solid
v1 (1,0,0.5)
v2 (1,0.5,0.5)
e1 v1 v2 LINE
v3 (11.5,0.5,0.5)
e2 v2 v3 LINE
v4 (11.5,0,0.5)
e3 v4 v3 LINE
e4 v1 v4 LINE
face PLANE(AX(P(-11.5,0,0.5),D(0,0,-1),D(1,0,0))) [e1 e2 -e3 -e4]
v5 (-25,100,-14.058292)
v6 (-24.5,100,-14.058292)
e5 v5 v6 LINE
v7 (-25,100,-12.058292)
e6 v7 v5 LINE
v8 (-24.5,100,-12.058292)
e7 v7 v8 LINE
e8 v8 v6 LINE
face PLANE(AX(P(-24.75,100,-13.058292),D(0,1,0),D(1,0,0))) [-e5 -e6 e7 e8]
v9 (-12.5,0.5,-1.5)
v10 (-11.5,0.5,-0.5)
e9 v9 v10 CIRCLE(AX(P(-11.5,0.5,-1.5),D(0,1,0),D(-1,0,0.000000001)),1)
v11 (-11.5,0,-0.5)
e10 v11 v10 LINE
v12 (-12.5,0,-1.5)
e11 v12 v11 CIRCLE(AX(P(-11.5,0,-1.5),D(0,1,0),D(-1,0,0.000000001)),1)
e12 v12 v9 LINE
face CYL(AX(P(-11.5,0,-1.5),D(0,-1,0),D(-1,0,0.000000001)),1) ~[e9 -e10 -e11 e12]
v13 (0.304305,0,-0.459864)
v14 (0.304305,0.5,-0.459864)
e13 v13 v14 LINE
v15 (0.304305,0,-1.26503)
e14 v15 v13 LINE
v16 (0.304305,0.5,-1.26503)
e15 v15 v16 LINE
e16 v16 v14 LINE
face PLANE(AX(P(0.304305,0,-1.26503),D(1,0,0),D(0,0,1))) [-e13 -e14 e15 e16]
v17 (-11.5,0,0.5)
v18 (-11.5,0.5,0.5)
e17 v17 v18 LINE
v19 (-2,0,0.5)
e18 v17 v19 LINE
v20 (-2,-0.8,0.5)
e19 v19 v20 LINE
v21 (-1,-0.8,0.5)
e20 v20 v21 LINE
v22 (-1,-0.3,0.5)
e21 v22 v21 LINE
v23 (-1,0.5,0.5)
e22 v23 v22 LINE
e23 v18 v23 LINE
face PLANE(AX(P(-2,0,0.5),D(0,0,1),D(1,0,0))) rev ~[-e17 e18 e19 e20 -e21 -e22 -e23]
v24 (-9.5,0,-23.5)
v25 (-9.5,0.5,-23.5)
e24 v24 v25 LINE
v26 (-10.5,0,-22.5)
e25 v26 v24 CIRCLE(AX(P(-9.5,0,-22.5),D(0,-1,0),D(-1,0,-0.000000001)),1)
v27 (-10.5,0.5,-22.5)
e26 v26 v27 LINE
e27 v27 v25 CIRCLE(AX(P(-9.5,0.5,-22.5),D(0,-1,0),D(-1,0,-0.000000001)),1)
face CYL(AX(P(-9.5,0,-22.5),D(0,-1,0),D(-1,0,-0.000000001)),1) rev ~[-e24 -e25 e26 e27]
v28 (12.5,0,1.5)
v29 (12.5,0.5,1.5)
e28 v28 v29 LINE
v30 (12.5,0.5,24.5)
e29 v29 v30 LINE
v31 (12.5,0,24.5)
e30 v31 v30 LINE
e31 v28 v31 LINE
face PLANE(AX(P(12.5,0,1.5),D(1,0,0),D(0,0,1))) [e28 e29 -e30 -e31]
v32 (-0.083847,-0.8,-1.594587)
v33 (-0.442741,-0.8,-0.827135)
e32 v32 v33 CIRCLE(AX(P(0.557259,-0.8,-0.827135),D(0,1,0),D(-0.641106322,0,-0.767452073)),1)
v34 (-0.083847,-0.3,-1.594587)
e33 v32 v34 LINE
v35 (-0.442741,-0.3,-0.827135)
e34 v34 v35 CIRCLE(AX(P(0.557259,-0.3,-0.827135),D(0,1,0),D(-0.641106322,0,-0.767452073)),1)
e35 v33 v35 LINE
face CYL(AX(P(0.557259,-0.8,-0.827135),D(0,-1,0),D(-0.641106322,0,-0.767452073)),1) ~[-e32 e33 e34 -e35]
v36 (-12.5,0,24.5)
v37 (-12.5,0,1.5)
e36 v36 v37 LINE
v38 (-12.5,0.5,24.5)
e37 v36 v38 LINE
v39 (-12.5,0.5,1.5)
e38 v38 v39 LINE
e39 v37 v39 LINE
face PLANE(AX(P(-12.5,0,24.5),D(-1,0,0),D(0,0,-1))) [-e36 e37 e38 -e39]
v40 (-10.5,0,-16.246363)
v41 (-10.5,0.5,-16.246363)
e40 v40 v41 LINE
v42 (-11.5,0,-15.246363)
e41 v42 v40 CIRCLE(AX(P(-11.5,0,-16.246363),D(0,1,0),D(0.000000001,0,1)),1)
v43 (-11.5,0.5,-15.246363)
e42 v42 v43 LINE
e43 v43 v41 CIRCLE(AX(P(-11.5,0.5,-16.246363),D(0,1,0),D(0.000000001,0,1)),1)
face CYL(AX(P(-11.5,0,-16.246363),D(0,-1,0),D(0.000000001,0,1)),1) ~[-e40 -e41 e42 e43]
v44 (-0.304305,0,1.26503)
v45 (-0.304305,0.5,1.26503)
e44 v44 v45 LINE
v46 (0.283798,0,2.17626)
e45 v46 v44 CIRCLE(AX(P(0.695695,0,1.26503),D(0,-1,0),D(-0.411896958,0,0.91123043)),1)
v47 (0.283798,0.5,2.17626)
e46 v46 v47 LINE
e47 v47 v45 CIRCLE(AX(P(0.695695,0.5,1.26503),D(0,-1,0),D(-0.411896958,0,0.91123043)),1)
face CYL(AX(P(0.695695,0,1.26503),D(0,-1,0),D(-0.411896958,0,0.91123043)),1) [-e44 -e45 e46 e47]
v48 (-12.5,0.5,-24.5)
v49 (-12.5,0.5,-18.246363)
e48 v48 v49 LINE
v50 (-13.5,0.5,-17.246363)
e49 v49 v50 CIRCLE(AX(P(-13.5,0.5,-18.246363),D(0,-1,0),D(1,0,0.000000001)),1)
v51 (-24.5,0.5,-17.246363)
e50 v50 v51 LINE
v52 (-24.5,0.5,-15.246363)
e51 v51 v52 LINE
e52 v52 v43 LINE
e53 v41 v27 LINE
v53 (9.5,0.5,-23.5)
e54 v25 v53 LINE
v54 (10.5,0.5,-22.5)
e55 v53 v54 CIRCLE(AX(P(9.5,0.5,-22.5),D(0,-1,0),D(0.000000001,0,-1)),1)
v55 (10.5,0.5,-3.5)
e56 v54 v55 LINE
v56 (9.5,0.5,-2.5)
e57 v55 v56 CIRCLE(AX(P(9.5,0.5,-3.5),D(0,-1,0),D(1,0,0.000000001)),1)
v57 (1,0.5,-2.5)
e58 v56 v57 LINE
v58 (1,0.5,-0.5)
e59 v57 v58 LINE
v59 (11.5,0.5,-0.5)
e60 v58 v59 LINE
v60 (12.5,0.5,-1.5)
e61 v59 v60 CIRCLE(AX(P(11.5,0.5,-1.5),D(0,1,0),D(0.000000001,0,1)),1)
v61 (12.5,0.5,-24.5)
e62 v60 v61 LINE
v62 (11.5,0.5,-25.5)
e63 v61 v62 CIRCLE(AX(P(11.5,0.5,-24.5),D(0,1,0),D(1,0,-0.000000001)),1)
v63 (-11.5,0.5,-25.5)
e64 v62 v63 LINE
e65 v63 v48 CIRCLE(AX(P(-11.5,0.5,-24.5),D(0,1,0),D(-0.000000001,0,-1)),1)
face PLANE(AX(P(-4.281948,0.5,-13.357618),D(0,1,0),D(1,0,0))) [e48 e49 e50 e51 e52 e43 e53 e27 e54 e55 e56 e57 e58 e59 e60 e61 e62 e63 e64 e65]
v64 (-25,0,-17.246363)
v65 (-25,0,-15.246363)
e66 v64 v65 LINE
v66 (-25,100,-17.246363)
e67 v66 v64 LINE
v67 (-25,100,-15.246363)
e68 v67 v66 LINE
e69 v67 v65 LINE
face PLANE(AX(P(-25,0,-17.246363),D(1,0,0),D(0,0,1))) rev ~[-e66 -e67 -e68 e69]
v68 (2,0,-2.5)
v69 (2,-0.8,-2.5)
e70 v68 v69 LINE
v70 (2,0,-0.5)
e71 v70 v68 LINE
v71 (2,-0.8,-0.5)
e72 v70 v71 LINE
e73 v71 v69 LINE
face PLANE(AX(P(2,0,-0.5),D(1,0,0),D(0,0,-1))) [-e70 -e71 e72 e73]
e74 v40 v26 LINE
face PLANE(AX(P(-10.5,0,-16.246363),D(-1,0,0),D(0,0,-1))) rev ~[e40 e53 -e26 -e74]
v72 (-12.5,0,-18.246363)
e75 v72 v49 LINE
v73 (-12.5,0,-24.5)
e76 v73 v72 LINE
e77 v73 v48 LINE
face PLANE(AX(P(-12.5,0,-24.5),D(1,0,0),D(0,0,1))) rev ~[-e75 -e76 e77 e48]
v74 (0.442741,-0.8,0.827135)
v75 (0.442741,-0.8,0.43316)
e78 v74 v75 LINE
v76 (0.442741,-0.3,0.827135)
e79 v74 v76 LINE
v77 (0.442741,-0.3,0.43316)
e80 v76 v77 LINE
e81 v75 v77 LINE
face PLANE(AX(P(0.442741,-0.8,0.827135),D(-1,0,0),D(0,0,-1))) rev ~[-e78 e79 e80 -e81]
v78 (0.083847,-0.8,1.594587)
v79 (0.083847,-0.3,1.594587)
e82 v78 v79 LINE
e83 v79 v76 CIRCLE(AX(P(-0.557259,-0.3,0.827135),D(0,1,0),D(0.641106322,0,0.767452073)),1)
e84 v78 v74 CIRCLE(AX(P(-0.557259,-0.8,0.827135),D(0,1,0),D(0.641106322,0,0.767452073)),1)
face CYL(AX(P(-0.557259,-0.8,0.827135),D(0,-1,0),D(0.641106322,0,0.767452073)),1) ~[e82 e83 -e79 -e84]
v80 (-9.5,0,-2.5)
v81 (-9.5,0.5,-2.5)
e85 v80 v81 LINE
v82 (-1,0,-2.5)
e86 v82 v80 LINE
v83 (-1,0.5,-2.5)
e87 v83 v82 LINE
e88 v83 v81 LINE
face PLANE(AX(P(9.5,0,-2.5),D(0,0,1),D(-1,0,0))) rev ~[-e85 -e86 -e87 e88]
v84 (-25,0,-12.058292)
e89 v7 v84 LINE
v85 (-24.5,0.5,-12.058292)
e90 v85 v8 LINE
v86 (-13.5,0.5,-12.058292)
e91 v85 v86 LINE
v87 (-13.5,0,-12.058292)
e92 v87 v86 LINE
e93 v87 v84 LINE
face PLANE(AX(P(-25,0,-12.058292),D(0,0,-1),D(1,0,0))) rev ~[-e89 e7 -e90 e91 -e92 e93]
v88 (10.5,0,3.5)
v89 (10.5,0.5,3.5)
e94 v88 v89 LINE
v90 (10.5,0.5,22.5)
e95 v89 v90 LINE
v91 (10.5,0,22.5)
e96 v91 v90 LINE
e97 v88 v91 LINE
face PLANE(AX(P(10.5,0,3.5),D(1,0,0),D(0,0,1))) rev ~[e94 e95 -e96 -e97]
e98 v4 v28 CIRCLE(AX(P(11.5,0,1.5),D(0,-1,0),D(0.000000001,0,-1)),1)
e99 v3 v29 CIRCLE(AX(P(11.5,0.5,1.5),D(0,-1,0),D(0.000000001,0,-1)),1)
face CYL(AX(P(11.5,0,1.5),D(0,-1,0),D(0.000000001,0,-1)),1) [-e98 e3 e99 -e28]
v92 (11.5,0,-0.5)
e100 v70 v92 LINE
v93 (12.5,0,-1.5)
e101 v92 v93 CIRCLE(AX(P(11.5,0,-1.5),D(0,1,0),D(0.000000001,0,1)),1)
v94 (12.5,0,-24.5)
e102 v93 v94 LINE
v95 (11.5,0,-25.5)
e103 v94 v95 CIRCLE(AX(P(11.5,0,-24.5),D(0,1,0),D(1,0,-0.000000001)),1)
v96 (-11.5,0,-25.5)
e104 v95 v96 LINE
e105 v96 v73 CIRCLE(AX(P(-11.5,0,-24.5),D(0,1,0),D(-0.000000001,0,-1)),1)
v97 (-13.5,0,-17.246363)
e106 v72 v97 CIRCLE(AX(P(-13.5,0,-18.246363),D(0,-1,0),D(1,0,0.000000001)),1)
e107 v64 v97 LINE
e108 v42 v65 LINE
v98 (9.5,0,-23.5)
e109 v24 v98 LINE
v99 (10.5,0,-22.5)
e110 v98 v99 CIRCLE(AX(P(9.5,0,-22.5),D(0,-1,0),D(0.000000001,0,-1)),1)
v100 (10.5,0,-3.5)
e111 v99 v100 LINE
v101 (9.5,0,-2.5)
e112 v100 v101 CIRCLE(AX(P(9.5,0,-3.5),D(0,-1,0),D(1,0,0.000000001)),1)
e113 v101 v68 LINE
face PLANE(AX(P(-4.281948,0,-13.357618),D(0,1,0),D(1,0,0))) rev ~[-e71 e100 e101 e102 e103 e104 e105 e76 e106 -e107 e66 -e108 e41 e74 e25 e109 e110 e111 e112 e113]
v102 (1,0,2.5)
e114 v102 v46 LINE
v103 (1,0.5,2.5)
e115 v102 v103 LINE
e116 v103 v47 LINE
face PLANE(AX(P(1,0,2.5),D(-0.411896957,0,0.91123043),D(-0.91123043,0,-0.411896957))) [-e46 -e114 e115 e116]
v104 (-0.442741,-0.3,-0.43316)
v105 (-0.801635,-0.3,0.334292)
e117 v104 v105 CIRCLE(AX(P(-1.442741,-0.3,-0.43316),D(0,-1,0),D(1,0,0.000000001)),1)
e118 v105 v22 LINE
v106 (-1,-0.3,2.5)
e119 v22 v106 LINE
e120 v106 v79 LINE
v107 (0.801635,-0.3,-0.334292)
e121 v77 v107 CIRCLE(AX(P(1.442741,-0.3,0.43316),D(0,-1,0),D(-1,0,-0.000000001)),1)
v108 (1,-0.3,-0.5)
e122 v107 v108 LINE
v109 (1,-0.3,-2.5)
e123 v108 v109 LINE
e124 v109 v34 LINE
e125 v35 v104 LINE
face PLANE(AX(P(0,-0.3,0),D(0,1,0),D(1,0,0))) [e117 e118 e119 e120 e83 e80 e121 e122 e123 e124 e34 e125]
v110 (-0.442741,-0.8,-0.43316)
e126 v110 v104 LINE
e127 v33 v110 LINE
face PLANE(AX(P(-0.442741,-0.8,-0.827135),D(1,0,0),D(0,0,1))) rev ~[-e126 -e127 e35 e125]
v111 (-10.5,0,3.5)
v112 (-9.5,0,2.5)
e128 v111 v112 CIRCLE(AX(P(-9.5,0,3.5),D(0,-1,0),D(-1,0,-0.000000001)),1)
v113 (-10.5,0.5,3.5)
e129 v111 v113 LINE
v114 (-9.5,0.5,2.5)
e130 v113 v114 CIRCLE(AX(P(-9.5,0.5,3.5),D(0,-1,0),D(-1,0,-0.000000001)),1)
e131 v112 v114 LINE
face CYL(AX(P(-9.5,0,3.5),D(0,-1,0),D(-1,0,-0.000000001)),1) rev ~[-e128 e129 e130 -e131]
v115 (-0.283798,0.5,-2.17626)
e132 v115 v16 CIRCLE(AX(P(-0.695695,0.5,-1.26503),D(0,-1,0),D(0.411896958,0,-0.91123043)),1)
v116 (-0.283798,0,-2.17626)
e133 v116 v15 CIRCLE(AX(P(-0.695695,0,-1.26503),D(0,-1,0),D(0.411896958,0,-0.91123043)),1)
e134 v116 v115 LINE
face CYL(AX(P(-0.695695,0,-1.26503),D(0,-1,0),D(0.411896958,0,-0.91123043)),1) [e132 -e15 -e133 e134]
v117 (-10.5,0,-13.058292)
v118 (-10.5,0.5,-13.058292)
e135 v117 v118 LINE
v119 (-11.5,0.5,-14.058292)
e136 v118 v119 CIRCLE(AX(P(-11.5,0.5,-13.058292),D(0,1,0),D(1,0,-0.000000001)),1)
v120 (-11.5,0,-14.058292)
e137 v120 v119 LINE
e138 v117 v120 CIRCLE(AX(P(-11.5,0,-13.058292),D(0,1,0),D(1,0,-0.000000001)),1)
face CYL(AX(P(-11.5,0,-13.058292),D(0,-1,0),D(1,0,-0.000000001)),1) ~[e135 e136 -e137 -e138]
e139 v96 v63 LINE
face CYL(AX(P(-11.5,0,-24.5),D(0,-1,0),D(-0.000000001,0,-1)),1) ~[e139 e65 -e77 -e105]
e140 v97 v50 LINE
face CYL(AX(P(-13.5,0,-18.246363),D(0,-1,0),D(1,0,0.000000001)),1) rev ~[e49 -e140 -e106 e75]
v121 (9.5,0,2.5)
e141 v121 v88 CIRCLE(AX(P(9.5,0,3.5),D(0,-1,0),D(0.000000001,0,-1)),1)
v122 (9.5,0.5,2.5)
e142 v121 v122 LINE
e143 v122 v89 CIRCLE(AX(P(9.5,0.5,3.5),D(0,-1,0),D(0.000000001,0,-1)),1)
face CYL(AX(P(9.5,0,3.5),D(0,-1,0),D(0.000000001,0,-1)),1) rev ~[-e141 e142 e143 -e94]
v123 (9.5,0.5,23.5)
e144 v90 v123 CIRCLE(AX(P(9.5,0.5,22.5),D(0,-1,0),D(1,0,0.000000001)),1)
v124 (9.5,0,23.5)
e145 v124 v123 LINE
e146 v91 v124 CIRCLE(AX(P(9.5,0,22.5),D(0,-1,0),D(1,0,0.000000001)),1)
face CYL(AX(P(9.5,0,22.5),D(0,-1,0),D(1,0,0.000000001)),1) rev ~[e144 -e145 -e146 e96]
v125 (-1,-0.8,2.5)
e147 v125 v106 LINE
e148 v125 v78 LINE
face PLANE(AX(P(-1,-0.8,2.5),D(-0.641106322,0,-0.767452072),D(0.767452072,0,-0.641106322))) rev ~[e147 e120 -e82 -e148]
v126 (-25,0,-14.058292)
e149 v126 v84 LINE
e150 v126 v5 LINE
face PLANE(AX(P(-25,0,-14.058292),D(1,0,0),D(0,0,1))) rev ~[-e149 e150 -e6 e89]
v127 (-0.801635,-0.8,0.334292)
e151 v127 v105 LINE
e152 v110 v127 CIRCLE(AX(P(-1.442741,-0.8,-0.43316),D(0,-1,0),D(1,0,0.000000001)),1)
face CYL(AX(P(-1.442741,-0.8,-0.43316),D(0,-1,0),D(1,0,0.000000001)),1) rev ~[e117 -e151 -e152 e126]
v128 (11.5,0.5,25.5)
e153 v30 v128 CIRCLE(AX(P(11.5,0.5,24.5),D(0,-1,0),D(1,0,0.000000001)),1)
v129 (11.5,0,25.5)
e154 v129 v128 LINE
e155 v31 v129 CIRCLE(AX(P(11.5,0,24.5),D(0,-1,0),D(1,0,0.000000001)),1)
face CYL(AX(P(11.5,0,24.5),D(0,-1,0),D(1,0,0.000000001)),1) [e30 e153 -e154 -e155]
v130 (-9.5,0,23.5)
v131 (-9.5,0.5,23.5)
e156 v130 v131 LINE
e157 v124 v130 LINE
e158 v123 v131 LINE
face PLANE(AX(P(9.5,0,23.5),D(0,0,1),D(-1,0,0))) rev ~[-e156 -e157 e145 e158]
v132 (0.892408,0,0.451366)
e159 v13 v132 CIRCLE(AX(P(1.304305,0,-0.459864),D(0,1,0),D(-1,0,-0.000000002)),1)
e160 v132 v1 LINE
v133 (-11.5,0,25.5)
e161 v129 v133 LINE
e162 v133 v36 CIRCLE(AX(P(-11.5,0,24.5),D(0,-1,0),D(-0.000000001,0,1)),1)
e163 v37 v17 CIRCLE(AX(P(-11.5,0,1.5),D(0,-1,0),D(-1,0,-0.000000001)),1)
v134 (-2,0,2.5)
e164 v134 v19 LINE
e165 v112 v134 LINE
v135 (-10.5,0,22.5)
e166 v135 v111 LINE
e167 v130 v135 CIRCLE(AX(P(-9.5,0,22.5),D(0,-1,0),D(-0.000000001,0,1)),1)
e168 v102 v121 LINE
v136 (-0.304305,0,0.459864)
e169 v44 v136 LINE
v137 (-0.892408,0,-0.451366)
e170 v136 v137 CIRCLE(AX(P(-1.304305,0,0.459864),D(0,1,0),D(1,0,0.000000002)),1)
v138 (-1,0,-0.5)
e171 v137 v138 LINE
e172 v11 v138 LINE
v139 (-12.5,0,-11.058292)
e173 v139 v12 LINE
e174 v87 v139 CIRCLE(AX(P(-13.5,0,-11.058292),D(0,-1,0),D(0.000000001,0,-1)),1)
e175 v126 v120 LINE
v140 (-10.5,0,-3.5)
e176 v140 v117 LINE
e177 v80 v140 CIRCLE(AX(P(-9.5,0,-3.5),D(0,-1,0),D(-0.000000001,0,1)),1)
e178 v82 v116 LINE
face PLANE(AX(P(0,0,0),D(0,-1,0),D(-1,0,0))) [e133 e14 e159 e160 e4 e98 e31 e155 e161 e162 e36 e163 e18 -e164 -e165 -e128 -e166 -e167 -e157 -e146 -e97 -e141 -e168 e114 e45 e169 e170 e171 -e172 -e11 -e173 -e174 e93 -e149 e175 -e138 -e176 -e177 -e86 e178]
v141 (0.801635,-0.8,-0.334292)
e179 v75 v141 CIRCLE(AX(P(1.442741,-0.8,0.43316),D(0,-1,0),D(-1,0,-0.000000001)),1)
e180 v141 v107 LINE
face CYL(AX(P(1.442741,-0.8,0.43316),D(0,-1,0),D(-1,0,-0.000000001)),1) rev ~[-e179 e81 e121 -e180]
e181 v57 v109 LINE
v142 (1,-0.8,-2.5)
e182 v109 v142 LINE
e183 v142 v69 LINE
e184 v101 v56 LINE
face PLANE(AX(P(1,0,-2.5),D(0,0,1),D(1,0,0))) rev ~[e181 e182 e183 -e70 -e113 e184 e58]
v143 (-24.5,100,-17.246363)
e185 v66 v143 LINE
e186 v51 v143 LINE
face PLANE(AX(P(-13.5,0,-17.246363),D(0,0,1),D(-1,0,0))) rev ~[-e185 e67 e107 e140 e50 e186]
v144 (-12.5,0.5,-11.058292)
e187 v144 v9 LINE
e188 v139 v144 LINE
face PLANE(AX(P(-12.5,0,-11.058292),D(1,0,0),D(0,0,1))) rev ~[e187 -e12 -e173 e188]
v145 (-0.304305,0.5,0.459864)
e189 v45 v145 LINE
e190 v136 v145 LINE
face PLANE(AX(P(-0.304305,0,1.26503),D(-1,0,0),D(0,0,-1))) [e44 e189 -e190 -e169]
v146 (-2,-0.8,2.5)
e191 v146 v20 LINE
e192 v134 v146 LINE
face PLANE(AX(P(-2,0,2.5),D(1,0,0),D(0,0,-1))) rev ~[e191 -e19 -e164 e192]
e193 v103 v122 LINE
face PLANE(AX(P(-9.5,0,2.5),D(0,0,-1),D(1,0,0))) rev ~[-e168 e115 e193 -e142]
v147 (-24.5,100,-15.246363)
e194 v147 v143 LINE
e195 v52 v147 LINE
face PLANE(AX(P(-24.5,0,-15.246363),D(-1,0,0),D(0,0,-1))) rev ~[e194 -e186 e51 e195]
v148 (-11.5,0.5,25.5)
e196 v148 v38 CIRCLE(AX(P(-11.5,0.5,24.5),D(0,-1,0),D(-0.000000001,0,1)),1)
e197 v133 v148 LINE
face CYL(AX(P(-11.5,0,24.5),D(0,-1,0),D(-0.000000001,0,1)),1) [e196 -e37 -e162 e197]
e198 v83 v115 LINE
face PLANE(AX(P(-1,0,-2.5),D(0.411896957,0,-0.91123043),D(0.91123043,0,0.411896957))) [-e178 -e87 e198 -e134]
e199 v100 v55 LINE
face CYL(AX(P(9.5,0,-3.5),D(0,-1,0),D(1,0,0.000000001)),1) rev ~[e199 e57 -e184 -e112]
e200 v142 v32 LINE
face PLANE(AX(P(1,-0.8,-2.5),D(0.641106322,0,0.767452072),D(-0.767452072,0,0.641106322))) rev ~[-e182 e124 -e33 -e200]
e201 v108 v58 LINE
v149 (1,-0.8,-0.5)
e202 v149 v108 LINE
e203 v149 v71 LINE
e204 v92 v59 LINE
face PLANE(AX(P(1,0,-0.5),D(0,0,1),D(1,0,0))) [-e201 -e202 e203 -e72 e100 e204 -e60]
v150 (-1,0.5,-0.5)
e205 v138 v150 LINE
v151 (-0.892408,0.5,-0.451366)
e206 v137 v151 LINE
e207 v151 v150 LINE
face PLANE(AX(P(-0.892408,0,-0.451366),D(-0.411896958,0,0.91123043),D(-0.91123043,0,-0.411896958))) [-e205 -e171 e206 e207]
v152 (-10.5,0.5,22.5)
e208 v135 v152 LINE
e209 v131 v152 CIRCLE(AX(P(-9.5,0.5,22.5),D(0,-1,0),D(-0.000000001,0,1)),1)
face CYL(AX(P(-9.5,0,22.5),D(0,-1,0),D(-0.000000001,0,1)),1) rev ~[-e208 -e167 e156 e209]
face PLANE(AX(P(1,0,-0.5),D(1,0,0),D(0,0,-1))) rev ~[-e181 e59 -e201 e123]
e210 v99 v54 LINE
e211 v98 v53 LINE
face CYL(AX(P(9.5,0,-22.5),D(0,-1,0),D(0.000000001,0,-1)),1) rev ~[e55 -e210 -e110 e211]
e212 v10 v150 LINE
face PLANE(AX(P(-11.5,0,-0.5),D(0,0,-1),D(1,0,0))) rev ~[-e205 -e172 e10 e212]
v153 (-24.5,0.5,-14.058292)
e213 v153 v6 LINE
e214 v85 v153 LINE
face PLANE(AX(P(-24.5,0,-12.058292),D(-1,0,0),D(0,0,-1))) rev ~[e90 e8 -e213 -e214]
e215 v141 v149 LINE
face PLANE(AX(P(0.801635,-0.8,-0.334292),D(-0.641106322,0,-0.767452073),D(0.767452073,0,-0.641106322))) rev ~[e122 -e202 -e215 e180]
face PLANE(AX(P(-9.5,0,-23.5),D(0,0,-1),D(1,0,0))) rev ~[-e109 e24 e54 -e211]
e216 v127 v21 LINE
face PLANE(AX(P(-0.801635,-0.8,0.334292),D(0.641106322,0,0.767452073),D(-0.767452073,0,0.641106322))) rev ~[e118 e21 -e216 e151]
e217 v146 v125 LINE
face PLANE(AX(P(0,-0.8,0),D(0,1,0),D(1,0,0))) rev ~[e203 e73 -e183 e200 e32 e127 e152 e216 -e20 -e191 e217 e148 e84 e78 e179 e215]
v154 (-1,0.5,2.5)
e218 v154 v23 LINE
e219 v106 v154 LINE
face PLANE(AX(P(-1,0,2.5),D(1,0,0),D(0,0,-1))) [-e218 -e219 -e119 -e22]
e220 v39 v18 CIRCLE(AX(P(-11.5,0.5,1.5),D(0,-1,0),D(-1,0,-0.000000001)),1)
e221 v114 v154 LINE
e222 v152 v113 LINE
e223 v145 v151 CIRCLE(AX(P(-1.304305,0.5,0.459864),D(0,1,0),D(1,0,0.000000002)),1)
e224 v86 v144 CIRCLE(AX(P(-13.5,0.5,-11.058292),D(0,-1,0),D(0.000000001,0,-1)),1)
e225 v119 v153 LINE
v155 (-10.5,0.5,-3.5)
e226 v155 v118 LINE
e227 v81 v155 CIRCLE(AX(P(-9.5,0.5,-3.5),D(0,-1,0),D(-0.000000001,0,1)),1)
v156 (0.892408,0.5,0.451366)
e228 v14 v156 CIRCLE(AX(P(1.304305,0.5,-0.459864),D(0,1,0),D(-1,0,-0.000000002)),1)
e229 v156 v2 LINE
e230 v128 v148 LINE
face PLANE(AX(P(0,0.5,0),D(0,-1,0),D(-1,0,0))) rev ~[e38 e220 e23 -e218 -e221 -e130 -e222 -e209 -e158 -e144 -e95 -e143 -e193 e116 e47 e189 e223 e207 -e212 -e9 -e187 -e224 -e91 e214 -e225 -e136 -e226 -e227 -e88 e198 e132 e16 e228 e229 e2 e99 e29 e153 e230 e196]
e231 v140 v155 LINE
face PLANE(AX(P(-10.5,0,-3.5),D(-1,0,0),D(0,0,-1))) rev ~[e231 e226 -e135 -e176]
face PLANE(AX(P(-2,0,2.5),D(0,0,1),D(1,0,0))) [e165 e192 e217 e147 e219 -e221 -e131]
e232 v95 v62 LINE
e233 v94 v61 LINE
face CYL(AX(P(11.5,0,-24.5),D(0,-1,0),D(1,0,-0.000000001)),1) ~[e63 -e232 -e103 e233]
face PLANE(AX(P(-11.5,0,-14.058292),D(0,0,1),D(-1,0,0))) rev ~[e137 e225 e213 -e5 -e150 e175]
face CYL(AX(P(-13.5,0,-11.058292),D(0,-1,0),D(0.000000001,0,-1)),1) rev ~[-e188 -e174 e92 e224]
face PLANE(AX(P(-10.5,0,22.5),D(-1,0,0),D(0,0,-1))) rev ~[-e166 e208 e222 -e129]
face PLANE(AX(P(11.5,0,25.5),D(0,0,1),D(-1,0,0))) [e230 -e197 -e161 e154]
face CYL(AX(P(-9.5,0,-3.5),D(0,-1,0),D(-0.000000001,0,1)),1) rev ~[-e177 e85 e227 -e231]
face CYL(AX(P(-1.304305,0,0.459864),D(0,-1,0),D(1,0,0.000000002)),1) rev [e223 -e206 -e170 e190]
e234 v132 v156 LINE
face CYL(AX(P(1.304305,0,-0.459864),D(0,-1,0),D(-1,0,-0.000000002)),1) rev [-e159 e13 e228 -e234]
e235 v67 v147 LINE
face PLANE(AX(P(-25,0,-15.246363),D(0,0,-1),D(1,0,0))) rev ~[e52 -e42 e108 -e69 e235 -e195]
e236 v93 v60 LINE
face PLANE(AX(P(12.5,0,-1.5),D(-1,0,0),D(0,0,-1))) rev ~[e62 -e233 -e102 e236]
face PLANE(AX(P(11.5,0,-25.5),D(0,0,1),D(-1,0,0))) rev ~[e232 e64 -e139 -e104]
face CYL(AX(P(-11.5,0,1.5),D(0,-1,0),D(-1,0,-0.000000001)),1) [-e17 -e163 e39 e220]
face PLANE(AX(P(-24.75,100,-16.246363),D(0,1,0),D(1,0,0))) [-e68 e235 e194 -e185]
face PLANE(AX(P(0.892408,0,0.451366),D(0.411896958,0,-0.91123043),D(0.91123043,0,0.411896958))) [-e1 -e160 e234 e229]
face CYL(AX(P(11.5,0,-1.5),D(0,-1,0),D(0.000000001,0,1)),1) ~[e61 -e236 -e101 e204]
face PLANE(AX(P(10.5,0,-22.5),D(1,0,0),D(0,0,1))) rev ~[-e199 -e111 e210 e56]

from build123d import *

# Parameters (mm, degrees)
EXTRUDE_1_DEPTH          = 0.5
EXTRUDE_1_2_DEPTH        = 0.5
CUT_EXTRUDE_1_DEPTH      = 10
CUT_EXTRUDE_1_DEPTH_BACK = 10
SKETCH_2_W               = 2
SKETCH_2_H               = 9.01144146
EXTRUDE_2_DEPTH          = 0.5
SKETCH_4_W               = 1
SKETCH_4_H               = 2
EXTRUDE_3_DEPTH          = 0.8
EXTRUDE_4_DEPTH          = 0.5
SKETCH_6_W               = 0.5
SKETCH_6_H               = 2
EXTRUDE_5_DEPTH          = 100


with BuildPart() as part:
    # 草图1 → 凸台-拉伸1 (new body)
    with BuildSketch(Plane(origin=(0, 0, 0), x_dir=(1, 0, 0), z_dir=(0, 1, 0))):
        with BuildLine():
            Line((-9.5, 23.5), (9.5, 23.5))
            ThreePointArc((9.5, 23.5), (10.207106781, 23.207106781), (10.5, 22.5))
            Line((10.5, 22.5), (10.5, 3.5))
            ThreePointArc((10.5, 3.5), (10.207106781, 2.792893219), (9.5, 2.5))
            Line((9.5, 2.5), (-9.5, 2.5))
            ThreePointArc((-9.5, 2.5), (-10.207106781, 2.792893219), (-10.5, 3.5))
            Line((-10.5, 3.5), (-10.5, 13.058292323))
            ThreePointArc((-10.5, 13.058292323), (-10.792893219, 13.765399104), (-11.5, 14.058292323))
            Line((-11.5, 14.058292323), (-25, 14.058292323))
            Line((-25, 14.058292323), (-25, 12.058292323))
            Line((-25, 12.058292323), (-13.5, 12.058292323))
            ThreePointArc((-13.5, 12.058292323), (-12.792893219, 11.765399104), (-12.5, 11.058292323))
            Line((-12.5, 11.058292323), (-12.5, 1.5))
            ThreePointArc((-12.5, 1.5), (-12.207106781, 0.792893219), (-11.5, 0.5))
            Line((-11.5, 0.5), (11.5, 0.5))
            ThreePointArc((11.5, 0.5), (12.207106781, 0.792893219), (12.5, 1.5))
            Line((12.5, 1.5), (12.5, 24.5))
            ThreePointArc((12.5, 24.5), (12.207106781, 25.207106781), (11.5, 25.5))
            Line((11.5, 25.5), (-11.5, 25.5))
            ThreePointArc((-11.5, 25.5), (-12.207106781, 25.207106781), (-12.5, 24.5))
            Line((-12.5, 24.5), (-12.5, 18.246362536))
            ThreePointArc((-12.5, 18.246362536), (-12.792893219, 17.539255755), (-13.5, 17.246362536))
            Line((-13.5, 17.246362536), (-25, 17.246362536))
            Line((-25, 17.246362536), (-25, 15.246362536))
            Line((-25, 15.246362536), (-11.5, 15.246362536))
            ThreePointArc((-11.5, 15.246362536), (-10.792893219, 15.539255755), (-10.5, 16.246362536))
            Line((-10.5, 16.246362536), (-10.5, 22.5))
            ThreePointArc((-10.5, 22.5), (-10.207106781, 23.207106781), (-9.5, 23.5))
        make_face()
    extrude(amount=EXTRUDE_1_DEPTH)


with BuildPart() as body_2:
    # 草图1 → Extrude 1 2 (new body)
    with BuildSketch(Plane(origin=(0, 0, 0), x_dir=(1, 0, 0), z_dir=(0, 1, 0))):
        with BuildLine():
            Line((-11.5, -0.5), (11.5, -0.5))
            ThreePointArc((11.5, -0.5), (12.207106781, -0.792893219), (12.5, -1.5))
            Line((12.5, -1.5), (12.5, -24.5))
            ThreePointArc((12.5, -24.5), (12.207106781, -25.207106781), (11.5, -25.5))
            Line((11.5, -25.5), (-11.5, -25.5))
            ThreePointArc((-11.5, -25.5), (-12.207106781, -25.207106781), (-12.5, -24.5))
            Line((-12.5, -24.5), (-12.5, -1.5))
            ThreePointArc((-12.5, -1.5), (-12.207106781, -0.792893219), (-11.5, -0.5))
        make_face()
        with BuildLine():
            Line((-9.5, -2.5), (9.5, -2.5))
            ThreePointArc((9.5, -2.5), (10.207106781, -2.792893219), (10.5, -3.5))
            Line((10.5, -3.5), (10.5, -22.5))
            ThreePointArc((10.5, -22.5), (10.207106781, -23.207106781), (9.5, -23.5))
            Line((9.5, -23.5), (-9.5, -23.5))
            ThreePointArc((-9.5, -23.5), (-10.207106781, -23.207106781), (-10.5, -22.5))
            Line((-10.5, -22.5), (-10.5, -3.5))
            ThreePointArc((-10.5, -3.5), (-10.207106781, -2.792893219), (-9.5, -2.5))
        make_face(mode=Mode.SUBTRACT)
    extrude(amount=EXTRUDE_1_2_DEPTH)


with BuildPart() as cut_extrude_1_tool:
    # 草图2 → 切除-拉伸1 (new, two sides: drawn at the far end of the back side and taken through both)
    with BuildSketch(Plane(origin=(0, 0, 0), x_dir=(1, 0, 0), z_dir=(0, 1, 0)).offset(-CUT_EXTRUDE_1_DEPTH_BACK)):
        Rectangle(SKETCH_2_W, SKETCH_2_H)
    extrude(amount=CUT_EXTRUDE_1_DEPTH + CUT_EXTRUDE_1_DEPTH_BACK)


with BuildPart() as part_1:
    add(part.part)

    # 切除-拉伸1: cut by cut_extrude_1_tool
    add(cut_extrude_1_tool.part, mode=Mode.SUBTRACT)



with BuildPart() as body_2_1:
    add(body_2.part)

    # 切除-拉伸1: cut by cut_extrude_1_tool
    add(cut_extrude_1_tool.part, mode=Mode.SUBTRACT)


with BuildPart() as part_2:
    add(part_1.part)

    add(body_2_1.part)  # 凸台-拉伸2 merges body 2
    # 草图3 → 凸台-拉伸2 (add)
    with BuildSketch(Plane(origin=(0, 0, 0), x_dir=(1, 0, 0), z_dir=(0, 1, 0))):
        with BuildLine():
            Line((-1, 2.5), (-0.28379779, 2.176260251))
            ThreePointArc((-0.28379779, 2.176260251), (0.144512655, 1.807294997), (0.304305253, 1.265029821))
            Line((0.304305253, 1.265029821), (0.304305253, 0.459864337))
            ThreePointArc((0.304305253, 0.459864337), (0.46409785, -0.082400839), (0.892408295, -0.451366093))
            Line((0.892408295, -0.451366093), (1, -0.5))
            Line((1, -0.5), (1, -2.5))
            Line((1, -2.5), (0.28379779, -2.176260251))
            ThreePointArc((0.28379779, -2.176260251), (-0.144512655, -1.807294997), (-0.304305253, -1.265029821))
            Line((-0.304305253, -1.265029821), (-0.304305253, -0.459864337))
            ThreePointArc((-0.304305253, -0.459864337), (-0.46409785, 0.082400839), (-0.892408295, 0.451366093))
            Line((-0.892408295, 0.451366093), (-1, 0.5))
            Line((-1, 0.5), (-1, 2.5))
        make_face()
    extrude(amount=EXTRUDE_2_DEPTH)

    # 草图4 → 凸台-拉伸3 (add)
    with BuildSketch(Plane(origin=(0, 0, 0), x_dir=(1, 0, 0), z_dir=(0, 1, 0))):
        with Locations((-1.5, -1.5)):
            Rectangle(SKETCH_4_W, SKETCH_4_H)
        with Locations((1.5, 1.5)):
            Rectangle(SKETCH_4_W, SKETCH_4_H)
    extrude(amount=-EXTRUDE_3_DEPTH)

    # 草图5 → 凸台-拉伸4 (add)
    with BuildSketch(Plane(origin=(0, -0.8, 0), x_dir=(1, 0, 0), z_dir=(0, 1, 0))):
        with BuildLine():
            Line((-1, -2.5), (0.08384733, -1.594586619))
            ThreePointArc((0.08384733, -1.594586619), (0.348584902, -1.250746207), (0.442741007, -0.827134547))
            Line((0.442741007, -0.827134547), (0.442741007, -0.433160476))
            ThreePointArc((0.442741007, -0.433160476), (0.536897113, -0.009548815), (0.801634685, 0.334291597))
            Line((0.801634685, 0.334291597), (1, 0.5))
            Line((1, 0.5), (1, 2.5))
            Line((1, 2.5), (-0.08384733, 1.594586619))
            ThreePointArc((-0.08384733, 1.594586619), (-0.348584902, 1.250746207), (-0.442741007, 0.827134547))
            Line((-0.442741007, 0.827134547), (-0.442741007, 0.433160476))
            ThreePointArc((-0.442741007, 0.433160476), (-0.536897113, 0.009548815), (-0.801634685, -0.334291597))
            Line((-0.801634685, -0.334291597), (-1, -0.5))
            Line((-1, -0.5), (-1, -2.5))
        make_face()
    extrude(amount=EXTRUDE_4_DEPTH)

    # 草图6 → 凸台-拉伸5 (add)
    with BuildSketch(Plane(origin=(0, 0, 0), x_dir=(1, 0, 0), z_dir=(0, 1, 0))):
        with Locations((-24.75, 16.246362536)):
            Rectangle(SKETCH_6_W, SKETCH_6_H)
        with Locations((-24.75, 13.058292323)):
            Rectangle(SKETCH_6_W, SKETCH_6_H)
    extrude(amount=EXTRUDE_5_DEPTH)


solid = part_2.part
